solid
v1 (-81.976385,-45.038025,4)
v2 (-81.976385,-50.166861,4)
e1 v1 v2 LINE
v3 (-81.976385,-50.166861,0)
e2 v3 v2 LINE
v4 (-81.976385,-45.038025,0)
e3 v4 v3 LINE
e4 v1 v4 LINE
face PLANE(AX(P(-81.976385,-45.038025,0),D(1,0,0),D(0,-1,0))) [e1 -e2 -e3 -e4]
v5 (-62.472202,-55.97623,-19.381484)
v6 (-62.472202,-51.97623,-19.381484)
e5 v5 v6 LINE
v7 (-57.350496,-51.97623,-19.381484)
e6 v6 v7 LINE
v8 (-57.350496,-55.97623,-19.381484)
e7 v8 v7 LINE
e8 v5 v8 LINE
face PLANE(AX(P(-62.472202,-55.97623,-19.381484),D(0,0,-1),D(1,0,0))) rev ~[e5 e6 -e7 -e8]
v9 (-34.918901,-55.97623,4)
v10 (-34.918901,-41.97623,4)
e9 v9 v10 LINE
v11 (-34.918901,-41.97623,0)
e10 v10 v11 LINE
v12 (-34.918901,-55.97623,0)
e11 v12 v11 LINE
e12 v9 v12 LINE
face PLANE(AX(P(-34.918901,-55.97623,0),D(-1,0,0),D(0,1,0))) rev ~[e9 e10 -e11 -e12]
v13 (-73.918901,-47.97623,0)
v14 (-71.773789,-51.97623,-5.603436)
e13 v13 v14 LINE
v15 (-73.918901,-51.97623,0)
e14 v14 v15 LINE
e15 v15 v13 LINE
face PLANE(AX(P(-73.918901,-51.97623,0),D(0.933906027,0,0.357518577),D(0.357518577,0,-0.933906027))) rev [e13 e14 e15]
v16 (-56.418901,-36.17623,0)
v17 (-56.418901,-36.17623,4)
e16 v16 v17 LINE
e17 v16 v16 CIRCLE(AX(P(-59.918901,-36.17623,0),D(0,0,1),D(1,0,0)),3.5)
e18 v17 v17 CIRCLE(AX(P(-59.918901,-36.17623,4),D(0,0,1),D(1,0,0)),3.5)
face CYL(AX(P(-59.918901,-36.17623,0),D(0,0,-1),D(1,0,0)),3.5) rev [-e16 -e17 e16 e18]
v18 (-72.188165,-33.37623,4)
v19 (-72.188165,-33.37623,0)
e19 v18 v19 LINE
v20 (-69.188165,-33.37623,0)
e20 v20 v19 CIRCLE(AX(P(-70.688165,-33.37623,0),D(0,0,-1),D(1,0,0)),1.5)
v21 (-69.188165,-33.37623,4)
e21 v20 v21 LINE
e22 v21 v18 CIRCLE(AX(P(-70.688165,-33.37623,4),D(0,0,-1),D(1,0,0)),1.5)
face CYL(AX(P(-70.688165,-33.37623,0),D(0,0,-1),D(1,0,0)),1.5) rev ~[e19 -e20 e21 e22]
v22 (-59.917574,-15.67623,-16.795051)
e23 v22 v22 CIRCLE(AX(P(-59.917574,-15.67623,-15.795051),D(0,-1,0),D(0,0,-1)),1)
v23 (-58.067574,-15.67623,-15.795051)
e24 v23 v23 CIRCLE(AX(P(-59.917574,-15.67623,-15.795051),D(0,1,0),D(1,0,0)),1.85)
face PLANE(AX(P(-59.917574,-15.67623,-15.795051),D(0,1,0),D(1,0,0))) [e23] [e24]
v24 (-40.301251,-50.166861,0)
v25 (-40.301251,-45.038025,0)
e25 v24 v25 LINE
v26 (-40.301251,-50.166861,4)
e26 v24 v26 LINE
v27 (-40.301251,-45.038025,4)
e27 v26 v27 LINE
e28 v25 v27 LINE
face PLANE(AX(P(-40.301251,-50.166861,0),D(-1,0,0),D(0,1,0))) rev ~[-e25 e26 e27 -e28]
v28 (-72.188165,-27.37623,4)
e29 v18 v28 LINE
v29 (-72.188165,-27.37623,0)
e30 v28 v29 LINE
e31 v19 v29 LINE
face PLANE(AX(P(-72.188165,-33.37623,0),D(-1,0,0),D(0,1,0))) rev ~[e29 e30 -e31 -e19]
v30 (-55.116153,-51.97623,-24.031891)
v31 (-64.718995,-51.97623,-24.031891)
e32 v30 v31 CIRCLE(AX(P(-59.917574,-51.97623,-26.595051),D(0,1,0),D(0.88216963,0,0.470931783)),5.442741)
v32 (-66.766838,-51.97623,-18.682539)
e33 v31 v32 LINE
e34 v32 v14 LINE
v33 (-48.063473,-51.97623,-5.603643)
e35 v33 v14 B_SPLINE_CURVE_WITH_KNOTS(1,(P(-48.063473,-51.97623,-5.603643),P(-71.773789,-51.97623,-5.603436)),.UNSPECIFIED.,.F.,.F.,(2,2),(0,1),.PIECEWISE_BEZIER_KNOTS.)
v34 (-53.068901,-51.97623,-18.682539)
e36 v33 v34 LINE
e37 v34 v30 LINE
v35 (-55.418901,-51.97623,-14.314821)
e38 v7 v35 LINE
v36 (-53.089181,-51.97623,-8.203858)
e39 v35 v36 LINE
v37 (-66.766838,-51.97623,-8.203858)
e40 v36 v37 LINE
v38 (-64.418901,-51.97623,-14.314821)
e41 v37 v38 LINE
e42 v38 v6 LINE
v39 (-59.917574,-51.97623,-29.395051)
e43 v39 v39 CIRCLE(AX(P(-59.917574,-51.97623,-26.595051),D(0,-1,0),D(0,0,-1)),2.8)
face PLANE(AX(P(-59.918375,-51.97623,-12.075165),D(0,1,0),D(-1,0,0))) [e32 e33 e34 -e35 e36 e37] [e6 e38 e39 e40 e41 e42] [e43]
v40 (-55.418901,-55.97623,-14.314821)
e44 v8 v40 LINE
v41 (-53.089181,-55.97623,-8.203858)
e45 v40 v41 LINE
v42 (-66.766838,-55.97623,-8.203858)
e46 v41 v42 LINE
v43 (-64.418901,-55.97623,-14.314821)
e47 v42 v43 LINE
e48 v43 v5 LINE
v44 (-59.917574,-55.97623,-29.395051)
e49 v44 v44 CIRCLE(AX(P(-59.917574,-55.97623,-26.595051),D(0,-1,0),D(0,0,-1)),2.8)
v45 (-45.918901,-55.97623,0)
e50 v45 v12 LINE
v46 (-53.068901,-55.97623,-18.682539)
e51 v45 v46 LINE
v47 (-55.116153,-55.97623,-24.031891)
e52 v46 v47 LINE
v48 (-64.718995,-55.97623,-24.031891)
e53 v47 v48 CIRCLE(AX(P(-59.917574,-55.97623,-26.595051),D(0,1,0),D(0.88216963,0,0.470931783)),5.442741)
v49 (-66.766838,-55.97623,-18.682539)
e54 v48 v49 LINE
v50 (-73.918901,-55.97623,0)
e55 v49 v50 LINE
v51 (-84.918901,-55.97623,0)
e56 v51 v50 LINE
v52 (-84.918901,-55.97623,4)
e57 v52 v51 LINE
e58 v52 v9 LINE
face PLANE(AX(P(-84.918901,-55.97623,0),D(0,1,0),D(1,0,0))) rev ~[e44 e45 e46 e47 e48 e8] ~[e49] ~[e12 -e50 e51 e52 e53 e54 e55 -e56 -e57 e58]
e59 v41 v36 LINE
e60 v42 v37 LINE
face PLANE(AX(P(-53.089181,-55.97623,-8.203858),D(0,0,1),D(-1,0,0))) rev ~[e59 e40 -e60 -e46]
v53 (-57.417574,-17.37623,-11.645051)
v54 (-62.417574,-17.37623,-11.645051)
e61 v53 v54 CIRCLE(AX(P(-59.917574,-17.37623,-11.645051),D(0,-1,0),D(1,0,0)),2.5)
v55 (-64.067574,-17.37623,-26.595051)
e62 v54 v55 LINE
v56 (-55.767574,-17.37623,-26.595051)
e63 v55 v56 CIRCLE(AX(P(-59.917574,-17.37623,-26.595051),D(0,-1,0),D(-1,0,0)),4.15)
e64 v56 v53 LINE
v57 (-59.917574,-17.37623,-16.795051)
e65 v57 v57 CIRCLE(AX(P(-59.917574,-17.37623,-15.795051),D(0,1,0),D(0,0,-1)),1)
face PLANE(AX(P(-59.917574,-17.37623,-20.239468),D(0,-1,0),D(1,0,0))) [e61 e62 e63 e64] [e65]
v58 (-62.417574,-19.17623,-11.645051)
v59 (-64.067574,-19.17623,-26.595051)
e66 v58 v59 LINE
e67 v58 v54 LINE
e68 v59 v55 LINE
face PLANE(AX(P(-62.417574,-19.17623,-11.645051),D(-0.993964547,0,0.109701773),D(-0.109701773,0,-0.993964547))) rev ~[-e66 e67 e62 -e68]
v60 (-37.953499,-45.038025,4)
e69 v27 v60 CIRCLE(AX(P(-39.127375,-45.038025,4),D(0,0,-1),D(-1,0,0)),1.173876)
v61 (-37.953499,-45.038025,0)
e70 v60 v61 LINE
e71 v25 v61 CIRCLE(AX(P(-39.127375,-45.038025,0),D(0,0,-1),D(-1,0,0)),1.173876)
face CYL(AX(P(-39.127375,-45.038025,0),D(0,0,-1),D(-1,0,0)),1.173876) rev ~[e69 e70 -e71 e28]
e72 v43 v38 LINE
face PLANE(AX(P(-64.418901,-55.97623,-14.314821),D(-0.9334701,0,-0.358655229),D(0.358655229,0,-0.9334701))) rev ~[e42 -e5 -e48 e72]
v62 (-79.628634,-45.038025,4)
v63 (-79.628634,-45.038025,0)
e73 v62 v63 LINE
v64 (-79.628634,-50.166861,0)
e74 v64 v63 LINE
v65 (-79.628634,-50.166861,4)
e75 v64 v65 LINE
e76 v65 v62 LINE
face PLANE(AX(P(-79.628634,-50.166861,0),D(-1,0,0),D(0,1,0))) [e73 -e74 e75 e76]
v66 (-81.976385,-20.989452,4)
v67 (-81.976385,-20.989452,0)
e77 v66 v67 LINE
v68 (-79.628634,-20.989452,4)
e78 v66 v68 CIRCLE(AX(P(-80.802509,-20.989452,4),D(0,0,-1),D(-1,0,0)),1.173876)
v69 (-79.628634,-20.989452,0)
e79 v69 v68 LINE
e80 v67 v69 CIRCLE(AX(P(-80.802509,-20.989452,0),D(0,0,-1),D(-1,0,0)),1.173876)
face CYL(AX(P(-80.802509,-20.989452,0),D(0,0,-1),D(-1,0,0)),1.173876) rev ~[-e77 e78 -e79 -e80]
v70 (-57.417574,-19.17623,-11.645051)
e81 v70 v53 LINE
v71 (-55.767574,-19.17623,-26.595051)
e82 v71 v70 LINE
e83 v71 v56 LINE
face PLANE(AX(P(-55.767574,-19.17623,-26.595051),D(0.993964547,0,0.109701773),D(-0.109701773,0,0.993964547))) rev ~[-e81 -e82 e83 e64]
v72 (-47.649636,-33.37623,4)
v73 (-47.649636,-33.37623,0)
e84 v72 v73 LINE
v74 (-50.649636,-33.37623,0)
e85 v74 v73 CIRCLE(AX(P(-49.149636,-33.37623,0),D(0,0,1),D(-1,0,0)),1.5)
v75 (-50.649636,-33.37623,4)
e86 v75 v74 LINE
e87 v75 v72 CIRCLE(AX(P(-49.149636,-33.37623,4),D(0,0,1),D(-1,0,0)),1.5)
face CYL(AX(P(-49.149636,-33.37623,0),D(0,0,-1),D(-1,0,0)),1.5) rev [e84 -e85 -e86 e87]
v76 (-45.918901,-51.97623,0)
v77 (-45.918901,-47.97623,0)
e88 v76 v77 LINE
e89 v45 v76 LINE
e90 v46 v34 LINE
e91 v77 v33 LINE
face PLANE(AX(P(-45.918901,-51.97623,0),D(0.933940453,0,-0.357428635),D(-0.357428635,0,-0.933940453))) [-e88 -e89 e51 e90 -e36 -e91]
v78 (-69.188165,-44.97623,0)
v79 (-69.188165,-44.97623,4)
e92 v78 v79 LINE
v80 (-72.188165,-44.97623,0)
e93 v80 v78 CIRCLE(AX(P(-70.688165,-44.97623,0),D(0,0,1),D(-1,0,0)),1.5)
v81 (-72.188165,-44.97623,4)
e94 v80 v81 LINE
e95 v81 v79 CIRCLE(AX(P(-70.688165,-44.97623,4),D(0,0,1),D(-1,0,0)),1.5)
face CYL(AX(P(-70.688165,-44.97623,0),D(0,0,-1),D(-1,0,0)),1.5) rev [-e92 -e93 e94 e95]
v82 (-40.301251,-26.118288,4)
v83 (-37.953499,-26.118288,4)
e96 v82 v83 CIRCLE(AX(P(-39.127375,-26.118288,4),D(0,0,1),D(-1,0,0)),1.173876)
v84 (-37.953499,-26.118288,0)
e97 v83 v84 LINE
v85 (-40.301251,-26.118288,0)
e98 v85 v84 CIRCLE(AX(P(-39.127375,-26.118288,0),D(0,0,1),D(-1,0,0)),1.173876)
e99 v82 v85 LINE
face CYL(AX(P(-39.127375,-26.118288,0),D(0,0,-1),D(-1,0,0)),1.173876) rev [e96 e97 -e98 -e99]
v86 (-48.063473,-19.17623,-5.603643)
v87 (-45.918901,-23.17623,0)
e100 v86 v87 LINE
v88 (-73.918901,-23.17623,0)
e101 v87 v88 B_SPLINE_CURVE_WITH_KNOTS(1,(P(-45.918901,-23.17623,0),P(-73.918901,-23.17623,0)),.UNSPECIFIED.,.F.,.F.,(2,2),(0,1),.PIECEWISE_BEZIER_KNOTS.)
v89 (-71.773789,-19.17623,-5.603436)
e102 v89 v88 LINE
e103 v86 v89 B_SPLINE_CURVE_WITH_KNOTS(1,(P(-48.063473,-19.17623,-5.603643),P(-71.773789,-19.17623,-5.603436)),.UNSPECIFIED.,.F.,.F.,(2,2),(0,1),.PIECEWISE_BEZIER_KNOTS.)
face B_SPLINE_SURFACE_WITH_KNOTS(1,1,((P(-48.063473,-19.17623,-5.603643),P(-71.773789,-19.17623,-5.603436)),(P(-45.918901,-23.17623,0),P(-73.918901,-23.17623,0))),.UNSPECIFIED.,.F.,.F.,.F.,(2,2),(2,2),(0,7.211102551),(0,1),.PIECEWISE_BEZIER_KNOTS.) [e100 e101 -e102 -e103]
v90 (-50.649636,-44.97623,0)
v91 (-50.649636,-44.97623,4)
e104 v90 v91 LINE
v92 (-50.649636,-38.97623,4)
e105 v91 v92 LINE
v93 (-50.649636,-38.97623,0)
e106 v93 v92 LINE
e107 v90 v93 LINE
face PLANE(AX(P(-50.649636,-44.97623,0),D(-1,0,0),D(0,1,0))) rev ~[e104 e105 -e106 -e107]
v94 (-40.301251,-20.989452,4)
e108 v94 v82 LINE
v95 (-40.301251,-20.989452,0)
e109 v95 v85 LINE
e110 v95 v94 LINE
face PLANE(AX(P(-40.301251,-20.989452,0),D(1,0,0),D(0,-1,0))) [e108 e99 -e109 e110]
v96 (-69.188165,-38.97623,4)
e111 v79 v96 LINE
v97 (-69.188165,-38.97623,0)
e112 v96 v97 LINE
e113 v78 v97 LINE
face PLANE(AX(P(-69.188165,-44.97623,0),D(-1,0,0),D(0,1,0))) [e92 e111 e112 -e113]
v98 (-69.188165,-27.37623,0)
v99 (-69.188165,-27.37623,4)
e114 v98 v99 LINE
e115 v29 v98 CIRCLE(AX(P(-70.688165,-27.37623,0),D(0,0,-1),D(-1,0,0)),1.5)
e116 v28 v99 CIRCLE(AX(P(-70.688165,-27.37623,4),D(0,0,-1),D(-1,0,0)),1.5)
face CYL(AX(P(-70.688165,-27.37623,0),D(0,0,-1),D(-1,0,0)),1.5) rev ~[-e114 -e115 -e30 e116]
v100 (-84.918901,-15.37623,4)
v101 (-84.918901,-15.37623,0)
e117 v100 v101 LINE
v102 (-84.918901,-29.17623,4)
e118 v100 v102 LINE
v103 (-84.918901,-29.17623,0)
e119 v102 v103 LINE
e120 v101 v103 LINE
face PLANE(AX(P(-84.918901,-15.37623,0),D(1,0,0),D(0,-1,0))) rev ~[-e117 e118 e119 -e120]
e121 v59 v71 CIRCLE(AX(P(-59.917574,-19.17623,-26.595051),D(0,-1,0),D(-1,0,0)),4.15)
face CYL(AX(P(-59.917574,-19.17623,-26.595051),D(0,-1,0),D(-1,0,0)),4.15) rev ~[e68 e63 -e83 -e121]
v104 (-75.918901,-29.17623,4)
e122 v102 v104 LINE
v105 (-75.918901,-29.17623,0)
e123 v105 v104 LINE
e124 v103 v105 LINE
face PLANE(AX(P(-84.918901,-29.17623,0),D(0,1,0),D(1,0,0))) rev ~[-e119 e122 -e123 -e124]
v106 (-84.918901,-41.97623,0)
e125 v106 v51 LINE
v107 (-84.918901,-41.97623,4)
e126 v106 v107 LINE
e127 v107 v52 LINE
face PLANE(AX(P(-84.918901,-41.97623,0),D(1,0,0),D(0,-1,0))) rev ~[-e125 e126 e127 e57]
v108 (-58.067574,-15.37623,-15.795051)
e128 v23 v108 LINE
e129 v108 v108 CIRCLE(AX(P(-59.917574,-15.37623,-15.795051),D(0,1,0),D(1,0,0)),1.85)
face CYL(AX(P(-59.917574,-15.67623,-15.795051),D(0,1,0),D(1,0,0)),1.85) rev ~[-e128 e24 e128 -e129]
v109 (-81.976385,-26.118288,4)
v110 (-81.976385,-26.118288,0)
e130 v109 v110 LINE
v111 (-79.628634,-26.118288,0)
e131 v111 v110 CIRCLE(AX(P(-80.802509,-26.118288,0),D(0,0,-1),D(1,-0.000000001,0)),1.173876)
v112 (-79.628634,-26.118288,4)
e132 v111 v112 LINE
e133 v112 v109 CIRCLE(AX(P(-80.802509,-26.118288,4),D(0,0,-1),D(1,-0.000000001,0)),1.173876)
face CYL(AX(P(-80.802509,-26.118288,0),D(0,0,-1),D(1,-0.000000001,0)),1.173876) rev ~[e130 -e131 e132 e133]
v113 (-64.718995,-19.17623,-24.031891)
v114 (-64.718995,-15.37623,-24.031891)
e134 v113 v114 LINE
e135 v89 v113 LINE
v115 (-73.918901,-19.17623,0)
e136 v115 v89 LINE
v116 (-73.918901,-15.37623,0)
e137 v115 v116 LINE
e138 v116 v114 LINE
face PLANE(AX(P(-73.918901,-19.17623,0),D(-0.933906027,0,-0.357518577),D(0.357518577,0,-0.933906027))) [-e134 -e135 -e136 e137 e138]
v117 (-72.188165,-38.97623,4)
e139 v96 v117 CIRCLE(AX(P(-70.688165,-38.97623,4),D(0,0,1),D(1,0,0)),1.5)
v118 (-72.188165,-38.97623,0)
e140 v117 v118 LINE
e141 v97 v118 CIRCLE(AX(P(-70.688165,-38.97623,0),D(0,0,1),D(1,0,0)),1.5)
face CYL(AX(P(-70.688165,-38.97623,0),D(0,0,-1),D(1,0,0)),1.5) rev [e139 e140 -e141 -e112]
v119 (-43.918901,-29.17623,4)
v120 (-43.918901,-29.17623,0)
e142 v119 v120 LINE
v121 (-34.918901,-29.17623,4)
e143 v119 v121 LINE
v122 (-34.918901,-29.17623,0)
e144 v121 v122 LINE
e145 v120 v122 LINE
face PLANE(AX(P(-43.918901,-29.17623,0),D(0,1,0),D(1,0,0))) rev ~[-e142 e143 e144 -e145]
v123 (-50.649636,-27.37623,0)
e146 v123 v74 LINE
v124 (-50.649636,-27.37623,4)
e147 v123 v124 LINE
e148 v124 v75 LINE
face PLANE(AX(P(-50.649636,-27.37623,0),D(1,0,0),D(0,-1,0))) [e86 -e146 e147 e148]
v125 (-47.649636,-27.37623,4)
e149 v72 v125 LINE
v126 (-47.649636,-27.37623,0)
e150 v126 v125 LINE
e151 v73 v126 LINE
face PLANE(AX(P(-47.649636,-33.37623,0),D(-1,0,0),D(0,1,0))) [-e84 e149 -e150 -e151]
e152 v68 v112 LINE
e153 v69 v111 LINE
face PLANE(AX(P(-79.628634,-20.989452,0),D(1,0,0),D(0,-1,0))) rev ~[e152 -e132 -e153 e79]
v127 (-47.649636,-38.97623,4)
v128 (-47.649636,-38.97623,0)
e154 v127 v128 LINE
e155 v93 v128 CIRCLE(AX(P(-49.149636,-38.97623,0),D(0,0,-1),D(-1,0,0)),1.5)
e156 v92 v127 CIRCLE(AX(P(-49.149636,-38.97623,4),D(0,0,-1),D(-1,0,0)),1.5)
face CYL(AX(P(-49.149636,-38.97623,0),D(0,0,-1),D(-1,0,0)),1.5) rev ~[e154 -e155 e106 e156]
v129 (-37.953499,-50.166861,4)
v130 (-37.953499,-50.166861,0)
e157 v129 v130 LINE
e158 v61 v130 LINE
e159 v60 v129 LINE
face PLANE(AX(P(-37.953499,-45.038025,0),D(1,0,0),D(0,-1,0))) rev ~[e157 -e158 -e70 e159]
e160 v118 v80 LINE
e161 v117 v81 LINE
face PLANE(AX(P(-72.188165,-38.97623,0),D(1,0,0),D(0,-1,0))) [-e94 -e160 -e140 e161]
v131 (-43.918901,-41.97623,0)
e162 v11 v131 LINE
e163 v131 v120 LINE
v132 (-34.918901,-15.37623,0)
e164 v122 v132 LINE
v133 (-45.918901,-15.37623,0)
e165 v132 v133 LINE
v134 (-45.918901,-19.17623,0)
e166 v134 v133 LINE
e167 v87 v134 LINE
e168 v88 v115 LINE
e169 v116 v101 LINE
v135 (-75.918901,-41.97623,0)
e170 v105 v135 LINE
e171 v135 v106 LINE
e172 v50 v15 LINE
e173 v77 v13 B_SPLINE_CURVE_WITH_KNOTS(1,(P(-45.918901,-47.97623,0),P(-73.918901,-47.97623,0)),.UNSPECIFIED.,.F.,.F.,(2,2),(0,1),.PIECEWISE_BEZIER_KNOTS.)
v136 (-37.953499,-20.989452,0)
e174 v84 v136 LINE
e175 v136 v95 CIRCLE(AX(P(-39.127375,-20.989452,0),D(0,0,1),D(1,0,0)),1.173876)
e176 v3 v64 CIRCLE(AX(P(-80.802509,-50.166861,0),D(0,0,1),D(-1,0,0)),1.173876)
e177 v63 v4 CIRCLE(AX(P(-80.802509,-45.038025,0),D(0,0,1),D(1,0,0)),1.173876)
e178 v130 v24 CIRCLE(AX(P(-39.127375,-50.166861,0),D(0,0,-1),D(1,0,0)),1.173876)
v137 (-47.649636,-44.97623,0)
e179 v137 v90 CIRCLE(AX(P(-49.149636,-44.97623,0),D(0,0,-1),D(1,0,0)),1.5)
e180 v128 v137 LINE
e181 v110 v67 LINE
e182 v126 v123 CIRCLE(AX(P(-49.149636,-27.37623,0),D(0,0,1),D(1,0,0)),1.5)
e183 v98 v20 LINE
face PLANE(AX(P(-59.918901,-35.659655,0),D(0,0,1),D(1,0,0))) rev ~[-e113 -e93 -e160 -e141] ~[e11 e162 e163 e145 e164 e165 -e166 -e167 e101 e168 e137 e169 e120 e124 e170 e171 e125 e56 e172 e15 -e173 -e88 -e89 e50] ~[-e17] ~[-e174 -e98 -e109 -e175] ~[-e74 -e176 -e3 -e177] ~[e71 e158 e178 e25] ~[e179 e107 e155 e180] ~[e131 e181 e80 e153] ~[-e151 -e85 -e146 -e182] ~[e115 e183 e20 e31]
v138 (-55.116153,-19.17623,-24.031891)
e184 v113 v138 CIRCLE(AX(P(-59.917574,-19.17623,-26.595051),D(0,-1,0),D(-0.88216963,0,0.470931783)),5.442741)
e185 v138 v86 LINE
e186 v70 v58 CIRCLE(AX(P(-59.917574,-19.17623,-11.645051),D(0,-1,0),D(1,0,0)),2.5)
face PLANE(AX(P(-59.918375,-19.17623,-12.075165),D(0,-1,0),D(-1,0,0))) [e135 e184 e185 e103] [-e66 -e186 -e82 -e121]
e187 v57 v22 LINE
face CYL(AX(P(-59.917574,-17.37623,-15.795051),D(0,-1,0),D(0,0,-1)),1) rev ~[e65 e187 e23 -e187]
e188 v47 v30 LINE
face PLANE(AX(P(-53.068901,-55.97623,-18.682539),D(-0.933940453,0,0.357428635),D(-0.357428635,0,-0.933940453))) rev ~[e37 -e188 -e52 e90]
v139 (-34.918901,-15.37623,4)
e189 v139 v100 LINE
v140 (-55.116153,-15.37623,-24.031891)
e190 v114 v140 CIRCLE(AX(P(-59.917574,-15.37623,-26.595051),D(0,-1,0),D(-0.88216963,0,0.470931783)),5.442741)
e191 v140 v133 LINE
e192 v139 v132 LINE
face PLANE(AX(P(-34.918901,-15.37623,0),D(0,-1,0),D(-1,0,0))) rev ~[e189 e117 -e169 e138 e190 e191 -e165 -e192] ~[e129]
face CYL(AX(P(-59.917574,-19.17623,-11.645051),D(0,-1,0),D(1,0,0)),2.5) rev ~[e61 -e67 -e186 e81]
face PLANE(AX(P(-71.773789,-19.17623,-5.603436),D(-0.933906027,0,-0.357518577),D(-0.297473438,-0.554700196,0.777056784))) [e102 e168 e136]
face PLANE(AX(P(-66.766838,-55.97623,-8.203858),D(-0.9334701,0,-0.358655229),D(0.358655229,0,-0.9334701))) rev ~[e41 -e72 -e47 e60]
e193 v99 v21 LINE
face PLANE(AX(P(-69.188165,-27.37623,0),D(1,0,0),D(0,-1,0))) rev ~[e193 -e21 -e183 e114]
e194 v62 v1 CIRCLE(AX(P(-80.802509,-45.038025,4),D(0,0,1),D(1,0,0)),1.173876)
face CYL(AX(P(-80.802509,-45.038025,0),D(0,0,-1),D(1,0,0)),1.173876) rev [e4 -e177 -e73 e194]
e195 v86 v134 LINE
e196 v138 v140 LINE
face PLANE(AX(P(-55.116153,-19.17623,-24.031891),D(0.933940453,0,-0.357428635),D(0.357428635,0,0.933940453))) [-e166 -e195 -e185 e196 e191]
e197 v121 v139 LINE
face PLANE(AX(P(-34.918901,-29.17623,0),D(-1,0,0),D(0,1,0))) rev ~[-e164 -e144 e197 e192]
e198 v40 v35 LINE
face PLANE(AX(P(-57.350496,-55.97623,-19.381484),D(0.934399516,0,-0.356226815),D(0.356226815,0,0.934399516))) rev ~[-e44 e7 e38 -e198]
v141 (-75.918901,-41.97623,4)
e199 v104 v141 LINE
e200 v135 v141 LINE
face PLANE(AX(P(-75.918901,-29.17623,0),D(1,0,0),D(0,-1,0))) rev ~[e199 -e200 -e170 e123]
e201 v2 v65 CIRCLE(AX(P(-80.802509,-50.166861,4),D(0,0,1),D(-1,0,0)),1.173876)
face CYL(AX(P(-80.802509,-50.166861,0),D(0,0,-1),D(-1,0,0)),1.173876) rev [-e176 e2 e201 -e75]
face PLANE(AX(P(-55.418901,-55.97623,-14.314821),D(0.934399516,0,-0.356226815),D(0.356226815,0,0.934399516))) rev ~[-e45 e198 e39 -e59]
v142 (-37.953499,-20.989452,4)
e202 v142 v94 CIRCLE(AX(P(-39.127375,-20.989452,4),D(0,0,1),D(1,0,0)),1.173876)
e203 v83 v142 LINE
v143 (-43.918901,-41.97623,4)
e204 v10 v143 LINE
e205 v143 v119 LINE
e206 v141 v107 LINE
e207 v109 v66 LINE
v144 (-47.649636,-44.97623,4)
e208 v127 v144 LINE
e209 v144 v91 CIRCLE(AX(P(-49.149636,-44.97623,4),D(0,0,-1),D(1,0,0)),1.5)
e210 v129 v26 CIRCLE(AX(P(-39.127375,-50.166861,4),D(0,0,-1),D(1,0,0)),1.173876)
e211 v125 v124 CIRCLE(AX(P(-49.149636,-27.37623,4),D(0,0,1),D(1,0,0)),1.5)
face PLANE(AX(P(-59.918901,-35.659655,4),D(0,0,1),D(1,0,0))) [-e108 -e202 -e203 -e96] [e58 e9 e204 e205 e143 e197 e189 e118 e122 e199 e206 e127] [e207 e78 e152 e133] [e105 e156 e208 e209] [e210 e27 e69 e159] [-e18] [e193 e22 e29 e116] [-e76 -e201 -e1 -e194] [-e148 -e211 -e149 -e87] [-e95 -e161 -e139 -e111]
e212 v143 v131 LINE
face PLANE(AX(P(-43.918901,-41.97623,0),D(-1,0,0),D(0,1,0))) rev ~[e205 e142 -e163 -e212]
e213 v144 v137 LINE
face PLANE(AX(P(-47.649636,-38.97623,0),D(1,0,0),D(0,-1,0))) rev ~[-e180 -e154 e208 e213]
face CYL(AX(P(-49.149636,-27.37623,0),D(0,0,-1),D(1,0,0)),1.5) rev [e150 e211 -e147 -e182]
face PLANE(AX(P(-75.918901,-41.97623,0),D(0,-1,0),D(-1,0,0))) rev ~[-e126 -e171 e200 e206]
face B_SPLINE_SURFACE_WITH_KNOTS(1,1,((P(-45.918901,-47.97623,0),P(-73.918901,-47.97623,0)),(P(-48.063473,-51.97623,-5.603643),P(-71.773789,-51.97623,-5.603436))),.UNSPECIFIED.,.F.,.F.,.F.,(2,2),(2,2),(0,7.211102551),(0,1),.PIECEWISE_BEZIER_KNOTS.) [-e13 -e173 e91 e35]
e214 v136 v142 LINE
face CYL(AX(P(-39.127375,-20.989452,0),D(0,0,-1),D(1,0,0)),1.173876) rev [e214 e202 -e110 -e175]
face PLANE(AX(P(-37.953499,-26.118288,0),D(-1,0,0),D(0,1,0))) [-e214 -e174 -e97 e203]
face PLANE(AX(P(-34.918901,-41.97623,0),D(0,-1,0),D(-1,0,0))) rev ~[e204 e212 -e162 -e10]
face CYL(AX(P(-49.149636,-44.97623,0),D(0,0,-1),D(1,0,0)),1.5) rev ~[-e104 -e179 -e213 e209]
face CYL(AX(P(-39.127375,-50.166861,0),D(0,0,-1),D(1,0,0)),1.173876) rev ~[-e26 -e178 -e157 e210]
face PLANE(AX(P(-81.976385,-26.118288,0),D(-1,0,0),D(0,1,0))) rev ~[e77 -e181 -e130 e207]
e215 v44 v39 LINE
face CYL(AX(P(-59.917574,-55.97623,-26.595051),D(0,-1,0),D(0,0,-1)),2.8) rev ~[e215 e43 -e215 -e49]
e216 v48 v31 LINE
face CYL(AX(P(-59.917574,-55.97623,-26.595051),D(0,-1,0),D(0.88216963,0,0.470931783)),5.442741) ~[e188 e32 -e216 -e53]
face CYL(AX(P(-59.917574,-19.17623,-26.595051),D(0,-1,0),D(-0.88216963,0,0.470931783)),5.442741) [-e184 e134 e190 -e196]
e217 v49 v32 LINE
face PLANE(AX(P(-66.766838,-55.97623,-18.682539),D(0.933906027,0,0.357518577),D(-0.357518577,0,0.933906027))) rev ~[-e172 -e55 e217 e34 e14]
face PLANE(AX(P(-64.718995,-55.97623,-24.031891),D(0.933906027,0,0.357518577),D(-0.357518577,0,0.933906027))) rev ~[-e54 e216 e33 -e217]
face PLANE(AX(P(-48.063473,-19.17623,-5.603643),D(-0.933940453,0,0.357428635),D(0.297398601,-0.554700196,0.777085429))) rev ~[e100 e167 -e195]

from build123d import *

# Parameters (mm, degrees)
ESBO_O1_R                                           = 3.5
RESSALTO_EXTRUS_O3_DEPTH                            = 2
ESBO_O3_R                                           = 2.8
RESSALTO_EXTRUS_O4_DEPTH                            = 4
RESSALTO_EXTRUS_O6_START                            = -3.8
RESSALTO_EXTRUS_O6_DEPTH                            = 3.8
ESBO_O1_2_R                                         = 3.5
RESSALTO_EXTRUS_O7_DEPTH                            = 4
CORTE_EXTRUS_O1_DEPTH                               = 1.8
ESBO_O12_R                                          = 1
CORTE_EXTRUS_O2_DEPTH                               = 99.628595452
REBAIXO_PARA_PARAFUSO_COM_CABE_A_PANELA_D           = 2
REBAIXO_PARA_PARAFUSO_COM_CABE_A_PANELA_CBORE_D     = 3.7
REBAIXO_PARA_PARAFUSO_COM_CABE_A_PANELA_CBORE_DEPTH = 0.3


with BuildPart() as part:
    # Esboço1 → Ressalto-extrusão3 (new body)
    with BuildSketch(Plane.XY):
        Polygon((-84.918900929, -29.176229512), (-75.918900929, -29.176229512), (-75.918900929, -41.976229512), (-84.918900929, -41.976229512), (-84.918900929, -55.976229512), (-34.918900929, -55.976229512), (-34.918900929, -41.976229512), (-43.918900929, -41.976229512), (-43.918900929, -29.176229512), (-34.918900929, -29.176229512), (-34.918900929, -15.376229512), (-84.918900929, -15.376229512), align=None)
        with Locations((-59.918900929, -36.176229512)):
            Circle(ESBO_O1_R, mode=Mode.SUBTRACT)
        with BuildLine():
            Line((-79.628633502, -20.989452457), (-79.628633502, -26.118287824))
            ThreePointArc((-79.628633502, -26.118287824), (-80.802509211, -27.292163532), (-81.97638492, -26.118287824))
            Line((-81.97638492, -26.118287824), (-81.97638492, -20.989452457))
            ThreePointArc((-81.97638492, -20.989452457), (-80.802509211, -19.815576748), (-79.628633502, -20.989452457))
        make_face(mode=Mode.SUBTRACT)
        with BuildLine():
            Line((-69.188165399, -27.376229512), (-69.188165399, -33.376229512))
            ThreePointArc((-69.188165399, -33.376229512), (-70.688165399, -34.876229512), (-72.188165399, -33.376229512))
            Line((-72.188165399, -33.376229512), (-72.188165399, -27.376229512))
            ThreePointArc((-72.188165399, -27.376229512), (-70.688165399, -25.876229512), (-69.188165399, -27.376229512))
        make_face(mode=Mode.SUBTRACT)
        with BuildLine():
            Line((-79.628633502, -50.166860599), (-79.628633502, -45.038025232))
            ThreePointArc((-79.628633502, -45.038025232), (-80.802509211, -43.864149523), (-81.97638492, -45.038025232))
            Line((-81.97638492, -45.038025232), (-81.97638492, -50.166860599))
            ThreePointArc((-81.97638492, -50.166860599), (-80.802509211, -51.340736308), (-79.628633502, -50.166860599))
        make_face(mode=Mode.SUBTRACT)
        with BuildLine():
            Line((-40.301250748, -20.989452457), (-40.301250748, -26.118287824))
            ThreePointArc((-40.301250748, -26.118287824), (-39.12737504, -27.292163532), (-37.953499331, -26.118287824))
            Line((-37.953499331, -26.118287824), (-37.953499331, -20.989452457))
            ThreePointArc((-37.953499331, -20.989452457), (-39.12737504, -19.815576748), (-40.301250748, -20.989452457))
        make_face(mode=Mode.SUBTRACT)
        with BuildLine():
            Line((-40.301250748, -50.166860599), (-40.301250748, -45.038025232))
            ThreePointArc((-40.301250748, -45.038025232), (-39.12737504, -43.864149523), (-37.953499331, -45.038025232))
            Line((-37.953499331, -45.038025232), (-37.953499331, -50.166860599))
            ThreePointArc((-37.953499331, -50.166860599), (-39.12737504, -51.340736308), (-40.301250748, -50.166860599))
        make_face(mode=Mode.SUBTRACT)
        with BuildLine():
            Line((-69.188165399, -44.976229512), (-69.188165399, -38.976229512))
            ThreePointArc((-69.188165399, -38.976229512), (-70.688165399, -37.476229512), (-72.188165399, -38.976229512))
            Line((-72.188165399, -38.976229512), (-72.188165399, -44.976229512))
            ThreePointArc((-72.188165399, -44.976229512), (-70.688165399, -46.476229512), (-69.188165399, -44.976229512))
        make_face(mode=Mode.SUBTRACT)
        with BuildLine():
            Line((-50.649636459, -44.976229512), (-50.649636459, -38.976229512))
            ThreePointArc((-50.649636459, -38.976229512), (-49.149636459, -37.476229512), (-47.649636459, -38.976229512))
            Line((-47.649636459, -38.976229512), (-47.649636459, -44.976229512))
            ThreePointArc((-47.649636459, -44.976229512), (-49.149636459, -46.476229512), (-50.649636459, -44.976229512))
        make_face(mode=Mode.SUBTRACT)
        with BuildLine():
            Line((-50.649636459, -27.376229512), (-50.649636459, -33.376229512))
            ThreePointArc((-50.649636459, -33.376229512), (-49.149636459, -34.876229512), (-47.649636459, -33.376229512))
            Line((-47.649636459, -33.376229512), (-47.649636459, -27.376229512))
            ThreePointArc((-47.649636459, -27.376229512), (-49.149636459, -25.876229512), (-50.649636459, -27.376229512))
        make_face(mode=Mode.SUBTRACT)
    extrude(amount=RESSALTO_EXTRUS_O3_DEPTH)

    # Esboço3 → Ressalto-extrusão4 (add)
    with BuildSketch(Plane.XZ.offset(55.976229512)):
        with BuildLine():
            Line((-69.918900929, 0), (-49.918900929, 0))
            Line((-49.918900929, 0), (-45.918900929, 0))
            Line((-45.918900929, 0), (-53.068900929, -18.682538503))
            Line((-53.068900929, -18.682538503), (-55.116153158, -24.031890755))
            ThreePointArc((-55.116153158, -24.031890755), (-59.917574185, -32.037791837), (-64.718995211, -24.031890755))
            Line((-64.718995211, -24.031890755), (-66.76683809, -18.682538503))
            Line((-66.76683809, -18.682538503), (-73.918900929, 0))
            Line((-73.918900929, 0), (-69.918900929, 0))
        make_face()
        with Locations((-59.917574185, -26.595050595)):
            Circle(ESBO_O3_R, mode=Mode.SUBTRACT)
        Polygon((-66.76683809, -8.203857571), (-64.418900929, -14.314821419), (-62.472202165, -19.381484176), (-57.350495612, -19.381484176), (-55.418900929, -14.314821419), (-53.089180985, -8.203857571), align=None, mode=Mode.SUBTRACT)
    extrude(amount=-RESSALTO_EXTRUS_O4_DEPTH)

    # Esboço4 → Ressalto-extrusão6 (add)
    with BuildSketch(Plane(origin=(0, -15.376229512, 0), x_dir=(1, 0, 0), z_dir=(0, 1, 0)).offset(RESSALTO_EXTRUS_O6_START)):
        with BuildLine():
            Line((-73.918900929, 0), (-64.718995211, 24.031890755))
            ThreePointArc((-64.718995211, 24.031890755), (-59.917574185, 32.037791837), (-55.116153158, 24.031890755))
            Line((-55.116153158, 24.031890755), (-45.918900929, 0))
            Line((-45.918900929, 0), (-49.918900929, 0))
            Line((-49.918900929, 0), (-69.918900929, 0))
            Line((-69.918900929, 0), (-73.918900929, 0))
        make_face()
    extrude(amount=RESSALTO_EXTRUS_O6_DEPTH)

    # Esboço1<2> → Ressalto-extrusão7 (add)
    with BuildSketch(Plane.XY):
        Polygon((-84.918900929, -29.176229512), (-75.918900929, -29.176229512), (-75.918900929, -41.976229512), (-84.918900929, -41.976229512), (-84.918900929, -55.976229512), (-34.918900929, -55.976229512), (-34.918900929, -41.976229512), (-43.918900929, -41.976229512), (-43.918900929, -29.176229512), (-34.918900929, -29.176229512), (-34.918900929, -15.376229512), (-84.918900929, -15.376229512), align=None)
        with Locations((-59.918900929, -36.176229512)):
            Circle(ESBO_O1_2_R, mode=Mode.SUBTRACT)
        with BuildLine():
            Line((-79.628633502, -20.989452457), (-79.628633502, -26.118287824))
            ThreePointArc((-79.628633502, -26.118287824), (-80.802509211, -27.292163532), (-81.97638492, -26.118287824))
            Line((-81.97638492, -26.118287824), (-81.97638492, -20.989452457))
            ThreePointArc((-81.97638492, -20.989452457), (-80.802509211, -19.815576748), (-79.628633502, -20.989452457))
        make_face(mode=Mode.SUBTRACT)
        with BuildLine():
            Line((-69.188165399, -27.376229512), (-69.188165399, -33.376229512))
            ThreePointArc((-69.188165399, -33.376229512), (-70.688165399, -34.876229512), (-72.188165399, -33.376229512))
            Line((-72.188165399, -33.376229512), (-72.188165399, -27.376229512))
            ThreePointArc((-72.188165399, -27.376229512), (-70.688165399, -25.876229512), (-69.188165399, -27.376229512))
        make_face(mode=Mode.SUBTRACT)
        with BuildLine():
            Line((-79.628633502, -50.166860599), (-79.628633502, -45.038025232))
            ThreePointArc((-79.628633502, -45.038025232), (-80.802509211, -43.864149523), (-81.97638492, -45.038025232))
            Line((-81.97638492, -45.038025232), (-81.97638492, -50.166860599))
            ThreePointArc((-81.97638492, -50.166860599), (-80.802509211, -51.340736308), (-79.628633502, -50.166860599))
        make_face(mode=Mode.SUBTRACT)
        with BuildLine():
            Line((-40.301250748, -20.989452457), (-40.301250748, -26.118287824))
            ThreePointArc((-40.301250748, -26.118287824), (-39.12737504, -27.292163532), (-37.953499331, -26.118287824))
            Line((-37.953499331, -26.118287824), (-37.953499331, -20.989452457))
            ThreePointArc((-37.953499331, -20.989452457), (-39.12737504, -19.815576748), (-40.301250748, -20.989452457))
        make_face(mode=Mode.SUBTRACT)
        with BuildLine():
            Line((-40.301250748, -50.166860599), (-40.301250748, -45.038025232))
            ThreePointArc((-40.301250748, -45.038025232), (-39.12737504, -43.864149523), (-37.953499331, -45.038025232))
            Line((-37.953499331, -45.038025232), (-37.953499331, -50.166860599))
            ThreePointArc((-37.953499331, -50.166860599), (-39.12737504, -51.340736308), (-40.301250748, -50.166860599))
        make_face(mode=Mode.SUBTRACT)
        with BuildLine():
            Line((-69.188165399, -44.976229512), (-69.188165399, -38.976229512))
            ThreePointArc((-69.188165399, -38.976229512), (-70.688165399, -37.476229512), (-72.188165399, -38.976229512))
            Line((-72.188165399, -38.976229512), (-72.188165399, -44.976229512))
            ThreePointArc((-72.188165399, -44.976229512), (-70.688165399, -46.476229512), (-69.188165399, -44.976229512))
        make_face(mode=Mode.SUBTRACT)
        with BuildLine():
            Line((-50.649636459, -44.976229512), (-50.649636459, -38.976229512))
            ThreePointArc((-50.649636459, -38.976229512), (-49.149636459, -37.476229512), (-47.649636459, -38.976229512))
            Line((-47.649636459, -38.976229512), (-47.649636459, -44.976229512))
            ThreePointArc((-47.649636459, -44.976229512), (-49.149636459, -46.476229512), (-50.649636459, -44.976229512))
        make_face(mode=Mode.SUBTRACT)
        with BuildLine():
            Line((-50.649636459, -27.376229512), (-50.649636459, -33.376229512))
            ThreePointArc((-50.649636459, -33.376229512), (-49.149636459, -34.876229512), (-47.649636459, -33.376229512))
            Line((-47.649636459, -33.376229512), (-47.649636459, -27.376229512))
            ThreePointArc((-47.649636459, -27.376229512), (-49.149636459, -25.876229512), (-50.649636459, -27.376229512))
        make_face(mode=Mode.SUBTRACT)
    extrude(amount=RESSALTO_EXTRUS_O7_DEPTH)

    # Esboço5 → Corte-extrusão1 (cut)
    with BuildSketch(Plane.XZ.offset(19.176229512)):
        with BuildLine():
            Line((-62.417574185, -11.645050595), (-64.067574185, -26.595050595))
            ThreePointArc((-64.067574185, -26.595050595), (-59.917574185, -30.745050595), (-55.767574185, -26.595050595))
            Line((-55.767574185, -26.595050595), (-57.417574185, -11.645050595))
            ThreePointArc((-57.417574185, -11.645050595), (-59.917574185, -9.145050595), (-62.417574185, -11.645050595))
        make_face()
    extrude(amount=-CORTE_EXTRUS_O1_DEPTH, mode=Mode.SUBTRACT)

    # Esboço12 → Corte-extrusão2 (cut, through all)
    with BuildSketch(Plane.XZ.offset(17.376229512)):
        with Locations((-59.917574185, -15.795050595)):
            Circle(ESBO_O12_R)
    extrude(amount=-CORTE_EXTRUS_O2_DEPTH, mode=Mode.SUBTRACT)

    # Rebaixo para parafuso com cabeça panela de M1.62 (through all)
    with Locations(Plane(origin=(0, -15.376229512, 0), x_dir=(1, 0, 0), z_dir=(0, 1, 0))):
        with Locations((-59.917574185, 15.795050595)):
            CounterBoreHole(REBAIXO_PARA_PARAFUSO_COM_CABE_A_PANELA_D / 2, REBAIXO_PARA_PARAFUSO_COM_CABE_A_PANELA_CBORE_D / 2, REBAIXO_PARA_PARAFUSO_COM_CABE_A_PANELA_CBORE_DEPTH)

    # Esboço19 → Loft1 section 0
    with BuildSketch(Plane(origin=(-40.052521208, 0, 15.328512589), x_dir=(-0.35742863536508446, 0, -0.9339404534664153), z_dir=(0.9339404534664153, 0, -0.35742863536508446))):
        with BuildLine():
            Line((22.412730097, -19.176229512), (16.412730097, -23.176229512))
            Line((16.412730097, -23.176229512), (16.412730097, -19.176229512))
            Line((16.412730097, -19.176229512), (22.412730097, -19.176229512))
        make_face()
    # Esboço21 → Loft1 section 1
    with BuildSketch(Plane(origin=(-64.470621516, 0, -24.68068974), x_dir=(-0.35751857745188526, 0, 0.9339060267375837), z_dir=(-0.9339060267375838, 0, -0.35751857745188526))):
        with BuildLine():
            Line((20.427380307, -19.176229512), (26.427380307, -23.176229512))
            Line((26.427380307, -23.176229512), (26.427380307, -19.176229512))
            Line((26.427380307, -19.176229512), (20.427380307, -19.176229512))
        make_face()
    loft()

    # Esboço25 → Loft2 section 0
    with BuildSketch(Plane(origin=(-40.052521208, 0, 15.328512589), x_dir=(-0.3574286353650846, 0, -0.9339404534664153), z_dir=(0.9339404534664153, 0, -0.3574286353650846))):
        with BuildLine():
            Line((16.412730097, -51.976229512), (16.412730097, -47.976229512))
            Line((16.412730097, -47.976229512), (22.412730097, -51.976229512))
            Line((22.412730097, -51.976229512), (16.412730097, -51.976229512))
        make_face()
    # Esboço24 → Loft2 section 1
    with BuildSketch(Plane(origin=(-64.470621516, 0, -24.68068974), x_dir=(-0.3575185774518854, 0, 0.9339060267375836), z_dir=(-0.9339060267375836, 0, -0.3575185774518854))):
        with BuildLine():
            Line((26.427380307, -51.976229512), (26.427380307, -47.976229512))
            Line((26.427380307, -47.976229512), (20.427380307, -51.976229512))
            Line((20.427380307, -51.976229512), (26.427380307, -51.976229512))
        make_face()
    loft()


solid = part.part
